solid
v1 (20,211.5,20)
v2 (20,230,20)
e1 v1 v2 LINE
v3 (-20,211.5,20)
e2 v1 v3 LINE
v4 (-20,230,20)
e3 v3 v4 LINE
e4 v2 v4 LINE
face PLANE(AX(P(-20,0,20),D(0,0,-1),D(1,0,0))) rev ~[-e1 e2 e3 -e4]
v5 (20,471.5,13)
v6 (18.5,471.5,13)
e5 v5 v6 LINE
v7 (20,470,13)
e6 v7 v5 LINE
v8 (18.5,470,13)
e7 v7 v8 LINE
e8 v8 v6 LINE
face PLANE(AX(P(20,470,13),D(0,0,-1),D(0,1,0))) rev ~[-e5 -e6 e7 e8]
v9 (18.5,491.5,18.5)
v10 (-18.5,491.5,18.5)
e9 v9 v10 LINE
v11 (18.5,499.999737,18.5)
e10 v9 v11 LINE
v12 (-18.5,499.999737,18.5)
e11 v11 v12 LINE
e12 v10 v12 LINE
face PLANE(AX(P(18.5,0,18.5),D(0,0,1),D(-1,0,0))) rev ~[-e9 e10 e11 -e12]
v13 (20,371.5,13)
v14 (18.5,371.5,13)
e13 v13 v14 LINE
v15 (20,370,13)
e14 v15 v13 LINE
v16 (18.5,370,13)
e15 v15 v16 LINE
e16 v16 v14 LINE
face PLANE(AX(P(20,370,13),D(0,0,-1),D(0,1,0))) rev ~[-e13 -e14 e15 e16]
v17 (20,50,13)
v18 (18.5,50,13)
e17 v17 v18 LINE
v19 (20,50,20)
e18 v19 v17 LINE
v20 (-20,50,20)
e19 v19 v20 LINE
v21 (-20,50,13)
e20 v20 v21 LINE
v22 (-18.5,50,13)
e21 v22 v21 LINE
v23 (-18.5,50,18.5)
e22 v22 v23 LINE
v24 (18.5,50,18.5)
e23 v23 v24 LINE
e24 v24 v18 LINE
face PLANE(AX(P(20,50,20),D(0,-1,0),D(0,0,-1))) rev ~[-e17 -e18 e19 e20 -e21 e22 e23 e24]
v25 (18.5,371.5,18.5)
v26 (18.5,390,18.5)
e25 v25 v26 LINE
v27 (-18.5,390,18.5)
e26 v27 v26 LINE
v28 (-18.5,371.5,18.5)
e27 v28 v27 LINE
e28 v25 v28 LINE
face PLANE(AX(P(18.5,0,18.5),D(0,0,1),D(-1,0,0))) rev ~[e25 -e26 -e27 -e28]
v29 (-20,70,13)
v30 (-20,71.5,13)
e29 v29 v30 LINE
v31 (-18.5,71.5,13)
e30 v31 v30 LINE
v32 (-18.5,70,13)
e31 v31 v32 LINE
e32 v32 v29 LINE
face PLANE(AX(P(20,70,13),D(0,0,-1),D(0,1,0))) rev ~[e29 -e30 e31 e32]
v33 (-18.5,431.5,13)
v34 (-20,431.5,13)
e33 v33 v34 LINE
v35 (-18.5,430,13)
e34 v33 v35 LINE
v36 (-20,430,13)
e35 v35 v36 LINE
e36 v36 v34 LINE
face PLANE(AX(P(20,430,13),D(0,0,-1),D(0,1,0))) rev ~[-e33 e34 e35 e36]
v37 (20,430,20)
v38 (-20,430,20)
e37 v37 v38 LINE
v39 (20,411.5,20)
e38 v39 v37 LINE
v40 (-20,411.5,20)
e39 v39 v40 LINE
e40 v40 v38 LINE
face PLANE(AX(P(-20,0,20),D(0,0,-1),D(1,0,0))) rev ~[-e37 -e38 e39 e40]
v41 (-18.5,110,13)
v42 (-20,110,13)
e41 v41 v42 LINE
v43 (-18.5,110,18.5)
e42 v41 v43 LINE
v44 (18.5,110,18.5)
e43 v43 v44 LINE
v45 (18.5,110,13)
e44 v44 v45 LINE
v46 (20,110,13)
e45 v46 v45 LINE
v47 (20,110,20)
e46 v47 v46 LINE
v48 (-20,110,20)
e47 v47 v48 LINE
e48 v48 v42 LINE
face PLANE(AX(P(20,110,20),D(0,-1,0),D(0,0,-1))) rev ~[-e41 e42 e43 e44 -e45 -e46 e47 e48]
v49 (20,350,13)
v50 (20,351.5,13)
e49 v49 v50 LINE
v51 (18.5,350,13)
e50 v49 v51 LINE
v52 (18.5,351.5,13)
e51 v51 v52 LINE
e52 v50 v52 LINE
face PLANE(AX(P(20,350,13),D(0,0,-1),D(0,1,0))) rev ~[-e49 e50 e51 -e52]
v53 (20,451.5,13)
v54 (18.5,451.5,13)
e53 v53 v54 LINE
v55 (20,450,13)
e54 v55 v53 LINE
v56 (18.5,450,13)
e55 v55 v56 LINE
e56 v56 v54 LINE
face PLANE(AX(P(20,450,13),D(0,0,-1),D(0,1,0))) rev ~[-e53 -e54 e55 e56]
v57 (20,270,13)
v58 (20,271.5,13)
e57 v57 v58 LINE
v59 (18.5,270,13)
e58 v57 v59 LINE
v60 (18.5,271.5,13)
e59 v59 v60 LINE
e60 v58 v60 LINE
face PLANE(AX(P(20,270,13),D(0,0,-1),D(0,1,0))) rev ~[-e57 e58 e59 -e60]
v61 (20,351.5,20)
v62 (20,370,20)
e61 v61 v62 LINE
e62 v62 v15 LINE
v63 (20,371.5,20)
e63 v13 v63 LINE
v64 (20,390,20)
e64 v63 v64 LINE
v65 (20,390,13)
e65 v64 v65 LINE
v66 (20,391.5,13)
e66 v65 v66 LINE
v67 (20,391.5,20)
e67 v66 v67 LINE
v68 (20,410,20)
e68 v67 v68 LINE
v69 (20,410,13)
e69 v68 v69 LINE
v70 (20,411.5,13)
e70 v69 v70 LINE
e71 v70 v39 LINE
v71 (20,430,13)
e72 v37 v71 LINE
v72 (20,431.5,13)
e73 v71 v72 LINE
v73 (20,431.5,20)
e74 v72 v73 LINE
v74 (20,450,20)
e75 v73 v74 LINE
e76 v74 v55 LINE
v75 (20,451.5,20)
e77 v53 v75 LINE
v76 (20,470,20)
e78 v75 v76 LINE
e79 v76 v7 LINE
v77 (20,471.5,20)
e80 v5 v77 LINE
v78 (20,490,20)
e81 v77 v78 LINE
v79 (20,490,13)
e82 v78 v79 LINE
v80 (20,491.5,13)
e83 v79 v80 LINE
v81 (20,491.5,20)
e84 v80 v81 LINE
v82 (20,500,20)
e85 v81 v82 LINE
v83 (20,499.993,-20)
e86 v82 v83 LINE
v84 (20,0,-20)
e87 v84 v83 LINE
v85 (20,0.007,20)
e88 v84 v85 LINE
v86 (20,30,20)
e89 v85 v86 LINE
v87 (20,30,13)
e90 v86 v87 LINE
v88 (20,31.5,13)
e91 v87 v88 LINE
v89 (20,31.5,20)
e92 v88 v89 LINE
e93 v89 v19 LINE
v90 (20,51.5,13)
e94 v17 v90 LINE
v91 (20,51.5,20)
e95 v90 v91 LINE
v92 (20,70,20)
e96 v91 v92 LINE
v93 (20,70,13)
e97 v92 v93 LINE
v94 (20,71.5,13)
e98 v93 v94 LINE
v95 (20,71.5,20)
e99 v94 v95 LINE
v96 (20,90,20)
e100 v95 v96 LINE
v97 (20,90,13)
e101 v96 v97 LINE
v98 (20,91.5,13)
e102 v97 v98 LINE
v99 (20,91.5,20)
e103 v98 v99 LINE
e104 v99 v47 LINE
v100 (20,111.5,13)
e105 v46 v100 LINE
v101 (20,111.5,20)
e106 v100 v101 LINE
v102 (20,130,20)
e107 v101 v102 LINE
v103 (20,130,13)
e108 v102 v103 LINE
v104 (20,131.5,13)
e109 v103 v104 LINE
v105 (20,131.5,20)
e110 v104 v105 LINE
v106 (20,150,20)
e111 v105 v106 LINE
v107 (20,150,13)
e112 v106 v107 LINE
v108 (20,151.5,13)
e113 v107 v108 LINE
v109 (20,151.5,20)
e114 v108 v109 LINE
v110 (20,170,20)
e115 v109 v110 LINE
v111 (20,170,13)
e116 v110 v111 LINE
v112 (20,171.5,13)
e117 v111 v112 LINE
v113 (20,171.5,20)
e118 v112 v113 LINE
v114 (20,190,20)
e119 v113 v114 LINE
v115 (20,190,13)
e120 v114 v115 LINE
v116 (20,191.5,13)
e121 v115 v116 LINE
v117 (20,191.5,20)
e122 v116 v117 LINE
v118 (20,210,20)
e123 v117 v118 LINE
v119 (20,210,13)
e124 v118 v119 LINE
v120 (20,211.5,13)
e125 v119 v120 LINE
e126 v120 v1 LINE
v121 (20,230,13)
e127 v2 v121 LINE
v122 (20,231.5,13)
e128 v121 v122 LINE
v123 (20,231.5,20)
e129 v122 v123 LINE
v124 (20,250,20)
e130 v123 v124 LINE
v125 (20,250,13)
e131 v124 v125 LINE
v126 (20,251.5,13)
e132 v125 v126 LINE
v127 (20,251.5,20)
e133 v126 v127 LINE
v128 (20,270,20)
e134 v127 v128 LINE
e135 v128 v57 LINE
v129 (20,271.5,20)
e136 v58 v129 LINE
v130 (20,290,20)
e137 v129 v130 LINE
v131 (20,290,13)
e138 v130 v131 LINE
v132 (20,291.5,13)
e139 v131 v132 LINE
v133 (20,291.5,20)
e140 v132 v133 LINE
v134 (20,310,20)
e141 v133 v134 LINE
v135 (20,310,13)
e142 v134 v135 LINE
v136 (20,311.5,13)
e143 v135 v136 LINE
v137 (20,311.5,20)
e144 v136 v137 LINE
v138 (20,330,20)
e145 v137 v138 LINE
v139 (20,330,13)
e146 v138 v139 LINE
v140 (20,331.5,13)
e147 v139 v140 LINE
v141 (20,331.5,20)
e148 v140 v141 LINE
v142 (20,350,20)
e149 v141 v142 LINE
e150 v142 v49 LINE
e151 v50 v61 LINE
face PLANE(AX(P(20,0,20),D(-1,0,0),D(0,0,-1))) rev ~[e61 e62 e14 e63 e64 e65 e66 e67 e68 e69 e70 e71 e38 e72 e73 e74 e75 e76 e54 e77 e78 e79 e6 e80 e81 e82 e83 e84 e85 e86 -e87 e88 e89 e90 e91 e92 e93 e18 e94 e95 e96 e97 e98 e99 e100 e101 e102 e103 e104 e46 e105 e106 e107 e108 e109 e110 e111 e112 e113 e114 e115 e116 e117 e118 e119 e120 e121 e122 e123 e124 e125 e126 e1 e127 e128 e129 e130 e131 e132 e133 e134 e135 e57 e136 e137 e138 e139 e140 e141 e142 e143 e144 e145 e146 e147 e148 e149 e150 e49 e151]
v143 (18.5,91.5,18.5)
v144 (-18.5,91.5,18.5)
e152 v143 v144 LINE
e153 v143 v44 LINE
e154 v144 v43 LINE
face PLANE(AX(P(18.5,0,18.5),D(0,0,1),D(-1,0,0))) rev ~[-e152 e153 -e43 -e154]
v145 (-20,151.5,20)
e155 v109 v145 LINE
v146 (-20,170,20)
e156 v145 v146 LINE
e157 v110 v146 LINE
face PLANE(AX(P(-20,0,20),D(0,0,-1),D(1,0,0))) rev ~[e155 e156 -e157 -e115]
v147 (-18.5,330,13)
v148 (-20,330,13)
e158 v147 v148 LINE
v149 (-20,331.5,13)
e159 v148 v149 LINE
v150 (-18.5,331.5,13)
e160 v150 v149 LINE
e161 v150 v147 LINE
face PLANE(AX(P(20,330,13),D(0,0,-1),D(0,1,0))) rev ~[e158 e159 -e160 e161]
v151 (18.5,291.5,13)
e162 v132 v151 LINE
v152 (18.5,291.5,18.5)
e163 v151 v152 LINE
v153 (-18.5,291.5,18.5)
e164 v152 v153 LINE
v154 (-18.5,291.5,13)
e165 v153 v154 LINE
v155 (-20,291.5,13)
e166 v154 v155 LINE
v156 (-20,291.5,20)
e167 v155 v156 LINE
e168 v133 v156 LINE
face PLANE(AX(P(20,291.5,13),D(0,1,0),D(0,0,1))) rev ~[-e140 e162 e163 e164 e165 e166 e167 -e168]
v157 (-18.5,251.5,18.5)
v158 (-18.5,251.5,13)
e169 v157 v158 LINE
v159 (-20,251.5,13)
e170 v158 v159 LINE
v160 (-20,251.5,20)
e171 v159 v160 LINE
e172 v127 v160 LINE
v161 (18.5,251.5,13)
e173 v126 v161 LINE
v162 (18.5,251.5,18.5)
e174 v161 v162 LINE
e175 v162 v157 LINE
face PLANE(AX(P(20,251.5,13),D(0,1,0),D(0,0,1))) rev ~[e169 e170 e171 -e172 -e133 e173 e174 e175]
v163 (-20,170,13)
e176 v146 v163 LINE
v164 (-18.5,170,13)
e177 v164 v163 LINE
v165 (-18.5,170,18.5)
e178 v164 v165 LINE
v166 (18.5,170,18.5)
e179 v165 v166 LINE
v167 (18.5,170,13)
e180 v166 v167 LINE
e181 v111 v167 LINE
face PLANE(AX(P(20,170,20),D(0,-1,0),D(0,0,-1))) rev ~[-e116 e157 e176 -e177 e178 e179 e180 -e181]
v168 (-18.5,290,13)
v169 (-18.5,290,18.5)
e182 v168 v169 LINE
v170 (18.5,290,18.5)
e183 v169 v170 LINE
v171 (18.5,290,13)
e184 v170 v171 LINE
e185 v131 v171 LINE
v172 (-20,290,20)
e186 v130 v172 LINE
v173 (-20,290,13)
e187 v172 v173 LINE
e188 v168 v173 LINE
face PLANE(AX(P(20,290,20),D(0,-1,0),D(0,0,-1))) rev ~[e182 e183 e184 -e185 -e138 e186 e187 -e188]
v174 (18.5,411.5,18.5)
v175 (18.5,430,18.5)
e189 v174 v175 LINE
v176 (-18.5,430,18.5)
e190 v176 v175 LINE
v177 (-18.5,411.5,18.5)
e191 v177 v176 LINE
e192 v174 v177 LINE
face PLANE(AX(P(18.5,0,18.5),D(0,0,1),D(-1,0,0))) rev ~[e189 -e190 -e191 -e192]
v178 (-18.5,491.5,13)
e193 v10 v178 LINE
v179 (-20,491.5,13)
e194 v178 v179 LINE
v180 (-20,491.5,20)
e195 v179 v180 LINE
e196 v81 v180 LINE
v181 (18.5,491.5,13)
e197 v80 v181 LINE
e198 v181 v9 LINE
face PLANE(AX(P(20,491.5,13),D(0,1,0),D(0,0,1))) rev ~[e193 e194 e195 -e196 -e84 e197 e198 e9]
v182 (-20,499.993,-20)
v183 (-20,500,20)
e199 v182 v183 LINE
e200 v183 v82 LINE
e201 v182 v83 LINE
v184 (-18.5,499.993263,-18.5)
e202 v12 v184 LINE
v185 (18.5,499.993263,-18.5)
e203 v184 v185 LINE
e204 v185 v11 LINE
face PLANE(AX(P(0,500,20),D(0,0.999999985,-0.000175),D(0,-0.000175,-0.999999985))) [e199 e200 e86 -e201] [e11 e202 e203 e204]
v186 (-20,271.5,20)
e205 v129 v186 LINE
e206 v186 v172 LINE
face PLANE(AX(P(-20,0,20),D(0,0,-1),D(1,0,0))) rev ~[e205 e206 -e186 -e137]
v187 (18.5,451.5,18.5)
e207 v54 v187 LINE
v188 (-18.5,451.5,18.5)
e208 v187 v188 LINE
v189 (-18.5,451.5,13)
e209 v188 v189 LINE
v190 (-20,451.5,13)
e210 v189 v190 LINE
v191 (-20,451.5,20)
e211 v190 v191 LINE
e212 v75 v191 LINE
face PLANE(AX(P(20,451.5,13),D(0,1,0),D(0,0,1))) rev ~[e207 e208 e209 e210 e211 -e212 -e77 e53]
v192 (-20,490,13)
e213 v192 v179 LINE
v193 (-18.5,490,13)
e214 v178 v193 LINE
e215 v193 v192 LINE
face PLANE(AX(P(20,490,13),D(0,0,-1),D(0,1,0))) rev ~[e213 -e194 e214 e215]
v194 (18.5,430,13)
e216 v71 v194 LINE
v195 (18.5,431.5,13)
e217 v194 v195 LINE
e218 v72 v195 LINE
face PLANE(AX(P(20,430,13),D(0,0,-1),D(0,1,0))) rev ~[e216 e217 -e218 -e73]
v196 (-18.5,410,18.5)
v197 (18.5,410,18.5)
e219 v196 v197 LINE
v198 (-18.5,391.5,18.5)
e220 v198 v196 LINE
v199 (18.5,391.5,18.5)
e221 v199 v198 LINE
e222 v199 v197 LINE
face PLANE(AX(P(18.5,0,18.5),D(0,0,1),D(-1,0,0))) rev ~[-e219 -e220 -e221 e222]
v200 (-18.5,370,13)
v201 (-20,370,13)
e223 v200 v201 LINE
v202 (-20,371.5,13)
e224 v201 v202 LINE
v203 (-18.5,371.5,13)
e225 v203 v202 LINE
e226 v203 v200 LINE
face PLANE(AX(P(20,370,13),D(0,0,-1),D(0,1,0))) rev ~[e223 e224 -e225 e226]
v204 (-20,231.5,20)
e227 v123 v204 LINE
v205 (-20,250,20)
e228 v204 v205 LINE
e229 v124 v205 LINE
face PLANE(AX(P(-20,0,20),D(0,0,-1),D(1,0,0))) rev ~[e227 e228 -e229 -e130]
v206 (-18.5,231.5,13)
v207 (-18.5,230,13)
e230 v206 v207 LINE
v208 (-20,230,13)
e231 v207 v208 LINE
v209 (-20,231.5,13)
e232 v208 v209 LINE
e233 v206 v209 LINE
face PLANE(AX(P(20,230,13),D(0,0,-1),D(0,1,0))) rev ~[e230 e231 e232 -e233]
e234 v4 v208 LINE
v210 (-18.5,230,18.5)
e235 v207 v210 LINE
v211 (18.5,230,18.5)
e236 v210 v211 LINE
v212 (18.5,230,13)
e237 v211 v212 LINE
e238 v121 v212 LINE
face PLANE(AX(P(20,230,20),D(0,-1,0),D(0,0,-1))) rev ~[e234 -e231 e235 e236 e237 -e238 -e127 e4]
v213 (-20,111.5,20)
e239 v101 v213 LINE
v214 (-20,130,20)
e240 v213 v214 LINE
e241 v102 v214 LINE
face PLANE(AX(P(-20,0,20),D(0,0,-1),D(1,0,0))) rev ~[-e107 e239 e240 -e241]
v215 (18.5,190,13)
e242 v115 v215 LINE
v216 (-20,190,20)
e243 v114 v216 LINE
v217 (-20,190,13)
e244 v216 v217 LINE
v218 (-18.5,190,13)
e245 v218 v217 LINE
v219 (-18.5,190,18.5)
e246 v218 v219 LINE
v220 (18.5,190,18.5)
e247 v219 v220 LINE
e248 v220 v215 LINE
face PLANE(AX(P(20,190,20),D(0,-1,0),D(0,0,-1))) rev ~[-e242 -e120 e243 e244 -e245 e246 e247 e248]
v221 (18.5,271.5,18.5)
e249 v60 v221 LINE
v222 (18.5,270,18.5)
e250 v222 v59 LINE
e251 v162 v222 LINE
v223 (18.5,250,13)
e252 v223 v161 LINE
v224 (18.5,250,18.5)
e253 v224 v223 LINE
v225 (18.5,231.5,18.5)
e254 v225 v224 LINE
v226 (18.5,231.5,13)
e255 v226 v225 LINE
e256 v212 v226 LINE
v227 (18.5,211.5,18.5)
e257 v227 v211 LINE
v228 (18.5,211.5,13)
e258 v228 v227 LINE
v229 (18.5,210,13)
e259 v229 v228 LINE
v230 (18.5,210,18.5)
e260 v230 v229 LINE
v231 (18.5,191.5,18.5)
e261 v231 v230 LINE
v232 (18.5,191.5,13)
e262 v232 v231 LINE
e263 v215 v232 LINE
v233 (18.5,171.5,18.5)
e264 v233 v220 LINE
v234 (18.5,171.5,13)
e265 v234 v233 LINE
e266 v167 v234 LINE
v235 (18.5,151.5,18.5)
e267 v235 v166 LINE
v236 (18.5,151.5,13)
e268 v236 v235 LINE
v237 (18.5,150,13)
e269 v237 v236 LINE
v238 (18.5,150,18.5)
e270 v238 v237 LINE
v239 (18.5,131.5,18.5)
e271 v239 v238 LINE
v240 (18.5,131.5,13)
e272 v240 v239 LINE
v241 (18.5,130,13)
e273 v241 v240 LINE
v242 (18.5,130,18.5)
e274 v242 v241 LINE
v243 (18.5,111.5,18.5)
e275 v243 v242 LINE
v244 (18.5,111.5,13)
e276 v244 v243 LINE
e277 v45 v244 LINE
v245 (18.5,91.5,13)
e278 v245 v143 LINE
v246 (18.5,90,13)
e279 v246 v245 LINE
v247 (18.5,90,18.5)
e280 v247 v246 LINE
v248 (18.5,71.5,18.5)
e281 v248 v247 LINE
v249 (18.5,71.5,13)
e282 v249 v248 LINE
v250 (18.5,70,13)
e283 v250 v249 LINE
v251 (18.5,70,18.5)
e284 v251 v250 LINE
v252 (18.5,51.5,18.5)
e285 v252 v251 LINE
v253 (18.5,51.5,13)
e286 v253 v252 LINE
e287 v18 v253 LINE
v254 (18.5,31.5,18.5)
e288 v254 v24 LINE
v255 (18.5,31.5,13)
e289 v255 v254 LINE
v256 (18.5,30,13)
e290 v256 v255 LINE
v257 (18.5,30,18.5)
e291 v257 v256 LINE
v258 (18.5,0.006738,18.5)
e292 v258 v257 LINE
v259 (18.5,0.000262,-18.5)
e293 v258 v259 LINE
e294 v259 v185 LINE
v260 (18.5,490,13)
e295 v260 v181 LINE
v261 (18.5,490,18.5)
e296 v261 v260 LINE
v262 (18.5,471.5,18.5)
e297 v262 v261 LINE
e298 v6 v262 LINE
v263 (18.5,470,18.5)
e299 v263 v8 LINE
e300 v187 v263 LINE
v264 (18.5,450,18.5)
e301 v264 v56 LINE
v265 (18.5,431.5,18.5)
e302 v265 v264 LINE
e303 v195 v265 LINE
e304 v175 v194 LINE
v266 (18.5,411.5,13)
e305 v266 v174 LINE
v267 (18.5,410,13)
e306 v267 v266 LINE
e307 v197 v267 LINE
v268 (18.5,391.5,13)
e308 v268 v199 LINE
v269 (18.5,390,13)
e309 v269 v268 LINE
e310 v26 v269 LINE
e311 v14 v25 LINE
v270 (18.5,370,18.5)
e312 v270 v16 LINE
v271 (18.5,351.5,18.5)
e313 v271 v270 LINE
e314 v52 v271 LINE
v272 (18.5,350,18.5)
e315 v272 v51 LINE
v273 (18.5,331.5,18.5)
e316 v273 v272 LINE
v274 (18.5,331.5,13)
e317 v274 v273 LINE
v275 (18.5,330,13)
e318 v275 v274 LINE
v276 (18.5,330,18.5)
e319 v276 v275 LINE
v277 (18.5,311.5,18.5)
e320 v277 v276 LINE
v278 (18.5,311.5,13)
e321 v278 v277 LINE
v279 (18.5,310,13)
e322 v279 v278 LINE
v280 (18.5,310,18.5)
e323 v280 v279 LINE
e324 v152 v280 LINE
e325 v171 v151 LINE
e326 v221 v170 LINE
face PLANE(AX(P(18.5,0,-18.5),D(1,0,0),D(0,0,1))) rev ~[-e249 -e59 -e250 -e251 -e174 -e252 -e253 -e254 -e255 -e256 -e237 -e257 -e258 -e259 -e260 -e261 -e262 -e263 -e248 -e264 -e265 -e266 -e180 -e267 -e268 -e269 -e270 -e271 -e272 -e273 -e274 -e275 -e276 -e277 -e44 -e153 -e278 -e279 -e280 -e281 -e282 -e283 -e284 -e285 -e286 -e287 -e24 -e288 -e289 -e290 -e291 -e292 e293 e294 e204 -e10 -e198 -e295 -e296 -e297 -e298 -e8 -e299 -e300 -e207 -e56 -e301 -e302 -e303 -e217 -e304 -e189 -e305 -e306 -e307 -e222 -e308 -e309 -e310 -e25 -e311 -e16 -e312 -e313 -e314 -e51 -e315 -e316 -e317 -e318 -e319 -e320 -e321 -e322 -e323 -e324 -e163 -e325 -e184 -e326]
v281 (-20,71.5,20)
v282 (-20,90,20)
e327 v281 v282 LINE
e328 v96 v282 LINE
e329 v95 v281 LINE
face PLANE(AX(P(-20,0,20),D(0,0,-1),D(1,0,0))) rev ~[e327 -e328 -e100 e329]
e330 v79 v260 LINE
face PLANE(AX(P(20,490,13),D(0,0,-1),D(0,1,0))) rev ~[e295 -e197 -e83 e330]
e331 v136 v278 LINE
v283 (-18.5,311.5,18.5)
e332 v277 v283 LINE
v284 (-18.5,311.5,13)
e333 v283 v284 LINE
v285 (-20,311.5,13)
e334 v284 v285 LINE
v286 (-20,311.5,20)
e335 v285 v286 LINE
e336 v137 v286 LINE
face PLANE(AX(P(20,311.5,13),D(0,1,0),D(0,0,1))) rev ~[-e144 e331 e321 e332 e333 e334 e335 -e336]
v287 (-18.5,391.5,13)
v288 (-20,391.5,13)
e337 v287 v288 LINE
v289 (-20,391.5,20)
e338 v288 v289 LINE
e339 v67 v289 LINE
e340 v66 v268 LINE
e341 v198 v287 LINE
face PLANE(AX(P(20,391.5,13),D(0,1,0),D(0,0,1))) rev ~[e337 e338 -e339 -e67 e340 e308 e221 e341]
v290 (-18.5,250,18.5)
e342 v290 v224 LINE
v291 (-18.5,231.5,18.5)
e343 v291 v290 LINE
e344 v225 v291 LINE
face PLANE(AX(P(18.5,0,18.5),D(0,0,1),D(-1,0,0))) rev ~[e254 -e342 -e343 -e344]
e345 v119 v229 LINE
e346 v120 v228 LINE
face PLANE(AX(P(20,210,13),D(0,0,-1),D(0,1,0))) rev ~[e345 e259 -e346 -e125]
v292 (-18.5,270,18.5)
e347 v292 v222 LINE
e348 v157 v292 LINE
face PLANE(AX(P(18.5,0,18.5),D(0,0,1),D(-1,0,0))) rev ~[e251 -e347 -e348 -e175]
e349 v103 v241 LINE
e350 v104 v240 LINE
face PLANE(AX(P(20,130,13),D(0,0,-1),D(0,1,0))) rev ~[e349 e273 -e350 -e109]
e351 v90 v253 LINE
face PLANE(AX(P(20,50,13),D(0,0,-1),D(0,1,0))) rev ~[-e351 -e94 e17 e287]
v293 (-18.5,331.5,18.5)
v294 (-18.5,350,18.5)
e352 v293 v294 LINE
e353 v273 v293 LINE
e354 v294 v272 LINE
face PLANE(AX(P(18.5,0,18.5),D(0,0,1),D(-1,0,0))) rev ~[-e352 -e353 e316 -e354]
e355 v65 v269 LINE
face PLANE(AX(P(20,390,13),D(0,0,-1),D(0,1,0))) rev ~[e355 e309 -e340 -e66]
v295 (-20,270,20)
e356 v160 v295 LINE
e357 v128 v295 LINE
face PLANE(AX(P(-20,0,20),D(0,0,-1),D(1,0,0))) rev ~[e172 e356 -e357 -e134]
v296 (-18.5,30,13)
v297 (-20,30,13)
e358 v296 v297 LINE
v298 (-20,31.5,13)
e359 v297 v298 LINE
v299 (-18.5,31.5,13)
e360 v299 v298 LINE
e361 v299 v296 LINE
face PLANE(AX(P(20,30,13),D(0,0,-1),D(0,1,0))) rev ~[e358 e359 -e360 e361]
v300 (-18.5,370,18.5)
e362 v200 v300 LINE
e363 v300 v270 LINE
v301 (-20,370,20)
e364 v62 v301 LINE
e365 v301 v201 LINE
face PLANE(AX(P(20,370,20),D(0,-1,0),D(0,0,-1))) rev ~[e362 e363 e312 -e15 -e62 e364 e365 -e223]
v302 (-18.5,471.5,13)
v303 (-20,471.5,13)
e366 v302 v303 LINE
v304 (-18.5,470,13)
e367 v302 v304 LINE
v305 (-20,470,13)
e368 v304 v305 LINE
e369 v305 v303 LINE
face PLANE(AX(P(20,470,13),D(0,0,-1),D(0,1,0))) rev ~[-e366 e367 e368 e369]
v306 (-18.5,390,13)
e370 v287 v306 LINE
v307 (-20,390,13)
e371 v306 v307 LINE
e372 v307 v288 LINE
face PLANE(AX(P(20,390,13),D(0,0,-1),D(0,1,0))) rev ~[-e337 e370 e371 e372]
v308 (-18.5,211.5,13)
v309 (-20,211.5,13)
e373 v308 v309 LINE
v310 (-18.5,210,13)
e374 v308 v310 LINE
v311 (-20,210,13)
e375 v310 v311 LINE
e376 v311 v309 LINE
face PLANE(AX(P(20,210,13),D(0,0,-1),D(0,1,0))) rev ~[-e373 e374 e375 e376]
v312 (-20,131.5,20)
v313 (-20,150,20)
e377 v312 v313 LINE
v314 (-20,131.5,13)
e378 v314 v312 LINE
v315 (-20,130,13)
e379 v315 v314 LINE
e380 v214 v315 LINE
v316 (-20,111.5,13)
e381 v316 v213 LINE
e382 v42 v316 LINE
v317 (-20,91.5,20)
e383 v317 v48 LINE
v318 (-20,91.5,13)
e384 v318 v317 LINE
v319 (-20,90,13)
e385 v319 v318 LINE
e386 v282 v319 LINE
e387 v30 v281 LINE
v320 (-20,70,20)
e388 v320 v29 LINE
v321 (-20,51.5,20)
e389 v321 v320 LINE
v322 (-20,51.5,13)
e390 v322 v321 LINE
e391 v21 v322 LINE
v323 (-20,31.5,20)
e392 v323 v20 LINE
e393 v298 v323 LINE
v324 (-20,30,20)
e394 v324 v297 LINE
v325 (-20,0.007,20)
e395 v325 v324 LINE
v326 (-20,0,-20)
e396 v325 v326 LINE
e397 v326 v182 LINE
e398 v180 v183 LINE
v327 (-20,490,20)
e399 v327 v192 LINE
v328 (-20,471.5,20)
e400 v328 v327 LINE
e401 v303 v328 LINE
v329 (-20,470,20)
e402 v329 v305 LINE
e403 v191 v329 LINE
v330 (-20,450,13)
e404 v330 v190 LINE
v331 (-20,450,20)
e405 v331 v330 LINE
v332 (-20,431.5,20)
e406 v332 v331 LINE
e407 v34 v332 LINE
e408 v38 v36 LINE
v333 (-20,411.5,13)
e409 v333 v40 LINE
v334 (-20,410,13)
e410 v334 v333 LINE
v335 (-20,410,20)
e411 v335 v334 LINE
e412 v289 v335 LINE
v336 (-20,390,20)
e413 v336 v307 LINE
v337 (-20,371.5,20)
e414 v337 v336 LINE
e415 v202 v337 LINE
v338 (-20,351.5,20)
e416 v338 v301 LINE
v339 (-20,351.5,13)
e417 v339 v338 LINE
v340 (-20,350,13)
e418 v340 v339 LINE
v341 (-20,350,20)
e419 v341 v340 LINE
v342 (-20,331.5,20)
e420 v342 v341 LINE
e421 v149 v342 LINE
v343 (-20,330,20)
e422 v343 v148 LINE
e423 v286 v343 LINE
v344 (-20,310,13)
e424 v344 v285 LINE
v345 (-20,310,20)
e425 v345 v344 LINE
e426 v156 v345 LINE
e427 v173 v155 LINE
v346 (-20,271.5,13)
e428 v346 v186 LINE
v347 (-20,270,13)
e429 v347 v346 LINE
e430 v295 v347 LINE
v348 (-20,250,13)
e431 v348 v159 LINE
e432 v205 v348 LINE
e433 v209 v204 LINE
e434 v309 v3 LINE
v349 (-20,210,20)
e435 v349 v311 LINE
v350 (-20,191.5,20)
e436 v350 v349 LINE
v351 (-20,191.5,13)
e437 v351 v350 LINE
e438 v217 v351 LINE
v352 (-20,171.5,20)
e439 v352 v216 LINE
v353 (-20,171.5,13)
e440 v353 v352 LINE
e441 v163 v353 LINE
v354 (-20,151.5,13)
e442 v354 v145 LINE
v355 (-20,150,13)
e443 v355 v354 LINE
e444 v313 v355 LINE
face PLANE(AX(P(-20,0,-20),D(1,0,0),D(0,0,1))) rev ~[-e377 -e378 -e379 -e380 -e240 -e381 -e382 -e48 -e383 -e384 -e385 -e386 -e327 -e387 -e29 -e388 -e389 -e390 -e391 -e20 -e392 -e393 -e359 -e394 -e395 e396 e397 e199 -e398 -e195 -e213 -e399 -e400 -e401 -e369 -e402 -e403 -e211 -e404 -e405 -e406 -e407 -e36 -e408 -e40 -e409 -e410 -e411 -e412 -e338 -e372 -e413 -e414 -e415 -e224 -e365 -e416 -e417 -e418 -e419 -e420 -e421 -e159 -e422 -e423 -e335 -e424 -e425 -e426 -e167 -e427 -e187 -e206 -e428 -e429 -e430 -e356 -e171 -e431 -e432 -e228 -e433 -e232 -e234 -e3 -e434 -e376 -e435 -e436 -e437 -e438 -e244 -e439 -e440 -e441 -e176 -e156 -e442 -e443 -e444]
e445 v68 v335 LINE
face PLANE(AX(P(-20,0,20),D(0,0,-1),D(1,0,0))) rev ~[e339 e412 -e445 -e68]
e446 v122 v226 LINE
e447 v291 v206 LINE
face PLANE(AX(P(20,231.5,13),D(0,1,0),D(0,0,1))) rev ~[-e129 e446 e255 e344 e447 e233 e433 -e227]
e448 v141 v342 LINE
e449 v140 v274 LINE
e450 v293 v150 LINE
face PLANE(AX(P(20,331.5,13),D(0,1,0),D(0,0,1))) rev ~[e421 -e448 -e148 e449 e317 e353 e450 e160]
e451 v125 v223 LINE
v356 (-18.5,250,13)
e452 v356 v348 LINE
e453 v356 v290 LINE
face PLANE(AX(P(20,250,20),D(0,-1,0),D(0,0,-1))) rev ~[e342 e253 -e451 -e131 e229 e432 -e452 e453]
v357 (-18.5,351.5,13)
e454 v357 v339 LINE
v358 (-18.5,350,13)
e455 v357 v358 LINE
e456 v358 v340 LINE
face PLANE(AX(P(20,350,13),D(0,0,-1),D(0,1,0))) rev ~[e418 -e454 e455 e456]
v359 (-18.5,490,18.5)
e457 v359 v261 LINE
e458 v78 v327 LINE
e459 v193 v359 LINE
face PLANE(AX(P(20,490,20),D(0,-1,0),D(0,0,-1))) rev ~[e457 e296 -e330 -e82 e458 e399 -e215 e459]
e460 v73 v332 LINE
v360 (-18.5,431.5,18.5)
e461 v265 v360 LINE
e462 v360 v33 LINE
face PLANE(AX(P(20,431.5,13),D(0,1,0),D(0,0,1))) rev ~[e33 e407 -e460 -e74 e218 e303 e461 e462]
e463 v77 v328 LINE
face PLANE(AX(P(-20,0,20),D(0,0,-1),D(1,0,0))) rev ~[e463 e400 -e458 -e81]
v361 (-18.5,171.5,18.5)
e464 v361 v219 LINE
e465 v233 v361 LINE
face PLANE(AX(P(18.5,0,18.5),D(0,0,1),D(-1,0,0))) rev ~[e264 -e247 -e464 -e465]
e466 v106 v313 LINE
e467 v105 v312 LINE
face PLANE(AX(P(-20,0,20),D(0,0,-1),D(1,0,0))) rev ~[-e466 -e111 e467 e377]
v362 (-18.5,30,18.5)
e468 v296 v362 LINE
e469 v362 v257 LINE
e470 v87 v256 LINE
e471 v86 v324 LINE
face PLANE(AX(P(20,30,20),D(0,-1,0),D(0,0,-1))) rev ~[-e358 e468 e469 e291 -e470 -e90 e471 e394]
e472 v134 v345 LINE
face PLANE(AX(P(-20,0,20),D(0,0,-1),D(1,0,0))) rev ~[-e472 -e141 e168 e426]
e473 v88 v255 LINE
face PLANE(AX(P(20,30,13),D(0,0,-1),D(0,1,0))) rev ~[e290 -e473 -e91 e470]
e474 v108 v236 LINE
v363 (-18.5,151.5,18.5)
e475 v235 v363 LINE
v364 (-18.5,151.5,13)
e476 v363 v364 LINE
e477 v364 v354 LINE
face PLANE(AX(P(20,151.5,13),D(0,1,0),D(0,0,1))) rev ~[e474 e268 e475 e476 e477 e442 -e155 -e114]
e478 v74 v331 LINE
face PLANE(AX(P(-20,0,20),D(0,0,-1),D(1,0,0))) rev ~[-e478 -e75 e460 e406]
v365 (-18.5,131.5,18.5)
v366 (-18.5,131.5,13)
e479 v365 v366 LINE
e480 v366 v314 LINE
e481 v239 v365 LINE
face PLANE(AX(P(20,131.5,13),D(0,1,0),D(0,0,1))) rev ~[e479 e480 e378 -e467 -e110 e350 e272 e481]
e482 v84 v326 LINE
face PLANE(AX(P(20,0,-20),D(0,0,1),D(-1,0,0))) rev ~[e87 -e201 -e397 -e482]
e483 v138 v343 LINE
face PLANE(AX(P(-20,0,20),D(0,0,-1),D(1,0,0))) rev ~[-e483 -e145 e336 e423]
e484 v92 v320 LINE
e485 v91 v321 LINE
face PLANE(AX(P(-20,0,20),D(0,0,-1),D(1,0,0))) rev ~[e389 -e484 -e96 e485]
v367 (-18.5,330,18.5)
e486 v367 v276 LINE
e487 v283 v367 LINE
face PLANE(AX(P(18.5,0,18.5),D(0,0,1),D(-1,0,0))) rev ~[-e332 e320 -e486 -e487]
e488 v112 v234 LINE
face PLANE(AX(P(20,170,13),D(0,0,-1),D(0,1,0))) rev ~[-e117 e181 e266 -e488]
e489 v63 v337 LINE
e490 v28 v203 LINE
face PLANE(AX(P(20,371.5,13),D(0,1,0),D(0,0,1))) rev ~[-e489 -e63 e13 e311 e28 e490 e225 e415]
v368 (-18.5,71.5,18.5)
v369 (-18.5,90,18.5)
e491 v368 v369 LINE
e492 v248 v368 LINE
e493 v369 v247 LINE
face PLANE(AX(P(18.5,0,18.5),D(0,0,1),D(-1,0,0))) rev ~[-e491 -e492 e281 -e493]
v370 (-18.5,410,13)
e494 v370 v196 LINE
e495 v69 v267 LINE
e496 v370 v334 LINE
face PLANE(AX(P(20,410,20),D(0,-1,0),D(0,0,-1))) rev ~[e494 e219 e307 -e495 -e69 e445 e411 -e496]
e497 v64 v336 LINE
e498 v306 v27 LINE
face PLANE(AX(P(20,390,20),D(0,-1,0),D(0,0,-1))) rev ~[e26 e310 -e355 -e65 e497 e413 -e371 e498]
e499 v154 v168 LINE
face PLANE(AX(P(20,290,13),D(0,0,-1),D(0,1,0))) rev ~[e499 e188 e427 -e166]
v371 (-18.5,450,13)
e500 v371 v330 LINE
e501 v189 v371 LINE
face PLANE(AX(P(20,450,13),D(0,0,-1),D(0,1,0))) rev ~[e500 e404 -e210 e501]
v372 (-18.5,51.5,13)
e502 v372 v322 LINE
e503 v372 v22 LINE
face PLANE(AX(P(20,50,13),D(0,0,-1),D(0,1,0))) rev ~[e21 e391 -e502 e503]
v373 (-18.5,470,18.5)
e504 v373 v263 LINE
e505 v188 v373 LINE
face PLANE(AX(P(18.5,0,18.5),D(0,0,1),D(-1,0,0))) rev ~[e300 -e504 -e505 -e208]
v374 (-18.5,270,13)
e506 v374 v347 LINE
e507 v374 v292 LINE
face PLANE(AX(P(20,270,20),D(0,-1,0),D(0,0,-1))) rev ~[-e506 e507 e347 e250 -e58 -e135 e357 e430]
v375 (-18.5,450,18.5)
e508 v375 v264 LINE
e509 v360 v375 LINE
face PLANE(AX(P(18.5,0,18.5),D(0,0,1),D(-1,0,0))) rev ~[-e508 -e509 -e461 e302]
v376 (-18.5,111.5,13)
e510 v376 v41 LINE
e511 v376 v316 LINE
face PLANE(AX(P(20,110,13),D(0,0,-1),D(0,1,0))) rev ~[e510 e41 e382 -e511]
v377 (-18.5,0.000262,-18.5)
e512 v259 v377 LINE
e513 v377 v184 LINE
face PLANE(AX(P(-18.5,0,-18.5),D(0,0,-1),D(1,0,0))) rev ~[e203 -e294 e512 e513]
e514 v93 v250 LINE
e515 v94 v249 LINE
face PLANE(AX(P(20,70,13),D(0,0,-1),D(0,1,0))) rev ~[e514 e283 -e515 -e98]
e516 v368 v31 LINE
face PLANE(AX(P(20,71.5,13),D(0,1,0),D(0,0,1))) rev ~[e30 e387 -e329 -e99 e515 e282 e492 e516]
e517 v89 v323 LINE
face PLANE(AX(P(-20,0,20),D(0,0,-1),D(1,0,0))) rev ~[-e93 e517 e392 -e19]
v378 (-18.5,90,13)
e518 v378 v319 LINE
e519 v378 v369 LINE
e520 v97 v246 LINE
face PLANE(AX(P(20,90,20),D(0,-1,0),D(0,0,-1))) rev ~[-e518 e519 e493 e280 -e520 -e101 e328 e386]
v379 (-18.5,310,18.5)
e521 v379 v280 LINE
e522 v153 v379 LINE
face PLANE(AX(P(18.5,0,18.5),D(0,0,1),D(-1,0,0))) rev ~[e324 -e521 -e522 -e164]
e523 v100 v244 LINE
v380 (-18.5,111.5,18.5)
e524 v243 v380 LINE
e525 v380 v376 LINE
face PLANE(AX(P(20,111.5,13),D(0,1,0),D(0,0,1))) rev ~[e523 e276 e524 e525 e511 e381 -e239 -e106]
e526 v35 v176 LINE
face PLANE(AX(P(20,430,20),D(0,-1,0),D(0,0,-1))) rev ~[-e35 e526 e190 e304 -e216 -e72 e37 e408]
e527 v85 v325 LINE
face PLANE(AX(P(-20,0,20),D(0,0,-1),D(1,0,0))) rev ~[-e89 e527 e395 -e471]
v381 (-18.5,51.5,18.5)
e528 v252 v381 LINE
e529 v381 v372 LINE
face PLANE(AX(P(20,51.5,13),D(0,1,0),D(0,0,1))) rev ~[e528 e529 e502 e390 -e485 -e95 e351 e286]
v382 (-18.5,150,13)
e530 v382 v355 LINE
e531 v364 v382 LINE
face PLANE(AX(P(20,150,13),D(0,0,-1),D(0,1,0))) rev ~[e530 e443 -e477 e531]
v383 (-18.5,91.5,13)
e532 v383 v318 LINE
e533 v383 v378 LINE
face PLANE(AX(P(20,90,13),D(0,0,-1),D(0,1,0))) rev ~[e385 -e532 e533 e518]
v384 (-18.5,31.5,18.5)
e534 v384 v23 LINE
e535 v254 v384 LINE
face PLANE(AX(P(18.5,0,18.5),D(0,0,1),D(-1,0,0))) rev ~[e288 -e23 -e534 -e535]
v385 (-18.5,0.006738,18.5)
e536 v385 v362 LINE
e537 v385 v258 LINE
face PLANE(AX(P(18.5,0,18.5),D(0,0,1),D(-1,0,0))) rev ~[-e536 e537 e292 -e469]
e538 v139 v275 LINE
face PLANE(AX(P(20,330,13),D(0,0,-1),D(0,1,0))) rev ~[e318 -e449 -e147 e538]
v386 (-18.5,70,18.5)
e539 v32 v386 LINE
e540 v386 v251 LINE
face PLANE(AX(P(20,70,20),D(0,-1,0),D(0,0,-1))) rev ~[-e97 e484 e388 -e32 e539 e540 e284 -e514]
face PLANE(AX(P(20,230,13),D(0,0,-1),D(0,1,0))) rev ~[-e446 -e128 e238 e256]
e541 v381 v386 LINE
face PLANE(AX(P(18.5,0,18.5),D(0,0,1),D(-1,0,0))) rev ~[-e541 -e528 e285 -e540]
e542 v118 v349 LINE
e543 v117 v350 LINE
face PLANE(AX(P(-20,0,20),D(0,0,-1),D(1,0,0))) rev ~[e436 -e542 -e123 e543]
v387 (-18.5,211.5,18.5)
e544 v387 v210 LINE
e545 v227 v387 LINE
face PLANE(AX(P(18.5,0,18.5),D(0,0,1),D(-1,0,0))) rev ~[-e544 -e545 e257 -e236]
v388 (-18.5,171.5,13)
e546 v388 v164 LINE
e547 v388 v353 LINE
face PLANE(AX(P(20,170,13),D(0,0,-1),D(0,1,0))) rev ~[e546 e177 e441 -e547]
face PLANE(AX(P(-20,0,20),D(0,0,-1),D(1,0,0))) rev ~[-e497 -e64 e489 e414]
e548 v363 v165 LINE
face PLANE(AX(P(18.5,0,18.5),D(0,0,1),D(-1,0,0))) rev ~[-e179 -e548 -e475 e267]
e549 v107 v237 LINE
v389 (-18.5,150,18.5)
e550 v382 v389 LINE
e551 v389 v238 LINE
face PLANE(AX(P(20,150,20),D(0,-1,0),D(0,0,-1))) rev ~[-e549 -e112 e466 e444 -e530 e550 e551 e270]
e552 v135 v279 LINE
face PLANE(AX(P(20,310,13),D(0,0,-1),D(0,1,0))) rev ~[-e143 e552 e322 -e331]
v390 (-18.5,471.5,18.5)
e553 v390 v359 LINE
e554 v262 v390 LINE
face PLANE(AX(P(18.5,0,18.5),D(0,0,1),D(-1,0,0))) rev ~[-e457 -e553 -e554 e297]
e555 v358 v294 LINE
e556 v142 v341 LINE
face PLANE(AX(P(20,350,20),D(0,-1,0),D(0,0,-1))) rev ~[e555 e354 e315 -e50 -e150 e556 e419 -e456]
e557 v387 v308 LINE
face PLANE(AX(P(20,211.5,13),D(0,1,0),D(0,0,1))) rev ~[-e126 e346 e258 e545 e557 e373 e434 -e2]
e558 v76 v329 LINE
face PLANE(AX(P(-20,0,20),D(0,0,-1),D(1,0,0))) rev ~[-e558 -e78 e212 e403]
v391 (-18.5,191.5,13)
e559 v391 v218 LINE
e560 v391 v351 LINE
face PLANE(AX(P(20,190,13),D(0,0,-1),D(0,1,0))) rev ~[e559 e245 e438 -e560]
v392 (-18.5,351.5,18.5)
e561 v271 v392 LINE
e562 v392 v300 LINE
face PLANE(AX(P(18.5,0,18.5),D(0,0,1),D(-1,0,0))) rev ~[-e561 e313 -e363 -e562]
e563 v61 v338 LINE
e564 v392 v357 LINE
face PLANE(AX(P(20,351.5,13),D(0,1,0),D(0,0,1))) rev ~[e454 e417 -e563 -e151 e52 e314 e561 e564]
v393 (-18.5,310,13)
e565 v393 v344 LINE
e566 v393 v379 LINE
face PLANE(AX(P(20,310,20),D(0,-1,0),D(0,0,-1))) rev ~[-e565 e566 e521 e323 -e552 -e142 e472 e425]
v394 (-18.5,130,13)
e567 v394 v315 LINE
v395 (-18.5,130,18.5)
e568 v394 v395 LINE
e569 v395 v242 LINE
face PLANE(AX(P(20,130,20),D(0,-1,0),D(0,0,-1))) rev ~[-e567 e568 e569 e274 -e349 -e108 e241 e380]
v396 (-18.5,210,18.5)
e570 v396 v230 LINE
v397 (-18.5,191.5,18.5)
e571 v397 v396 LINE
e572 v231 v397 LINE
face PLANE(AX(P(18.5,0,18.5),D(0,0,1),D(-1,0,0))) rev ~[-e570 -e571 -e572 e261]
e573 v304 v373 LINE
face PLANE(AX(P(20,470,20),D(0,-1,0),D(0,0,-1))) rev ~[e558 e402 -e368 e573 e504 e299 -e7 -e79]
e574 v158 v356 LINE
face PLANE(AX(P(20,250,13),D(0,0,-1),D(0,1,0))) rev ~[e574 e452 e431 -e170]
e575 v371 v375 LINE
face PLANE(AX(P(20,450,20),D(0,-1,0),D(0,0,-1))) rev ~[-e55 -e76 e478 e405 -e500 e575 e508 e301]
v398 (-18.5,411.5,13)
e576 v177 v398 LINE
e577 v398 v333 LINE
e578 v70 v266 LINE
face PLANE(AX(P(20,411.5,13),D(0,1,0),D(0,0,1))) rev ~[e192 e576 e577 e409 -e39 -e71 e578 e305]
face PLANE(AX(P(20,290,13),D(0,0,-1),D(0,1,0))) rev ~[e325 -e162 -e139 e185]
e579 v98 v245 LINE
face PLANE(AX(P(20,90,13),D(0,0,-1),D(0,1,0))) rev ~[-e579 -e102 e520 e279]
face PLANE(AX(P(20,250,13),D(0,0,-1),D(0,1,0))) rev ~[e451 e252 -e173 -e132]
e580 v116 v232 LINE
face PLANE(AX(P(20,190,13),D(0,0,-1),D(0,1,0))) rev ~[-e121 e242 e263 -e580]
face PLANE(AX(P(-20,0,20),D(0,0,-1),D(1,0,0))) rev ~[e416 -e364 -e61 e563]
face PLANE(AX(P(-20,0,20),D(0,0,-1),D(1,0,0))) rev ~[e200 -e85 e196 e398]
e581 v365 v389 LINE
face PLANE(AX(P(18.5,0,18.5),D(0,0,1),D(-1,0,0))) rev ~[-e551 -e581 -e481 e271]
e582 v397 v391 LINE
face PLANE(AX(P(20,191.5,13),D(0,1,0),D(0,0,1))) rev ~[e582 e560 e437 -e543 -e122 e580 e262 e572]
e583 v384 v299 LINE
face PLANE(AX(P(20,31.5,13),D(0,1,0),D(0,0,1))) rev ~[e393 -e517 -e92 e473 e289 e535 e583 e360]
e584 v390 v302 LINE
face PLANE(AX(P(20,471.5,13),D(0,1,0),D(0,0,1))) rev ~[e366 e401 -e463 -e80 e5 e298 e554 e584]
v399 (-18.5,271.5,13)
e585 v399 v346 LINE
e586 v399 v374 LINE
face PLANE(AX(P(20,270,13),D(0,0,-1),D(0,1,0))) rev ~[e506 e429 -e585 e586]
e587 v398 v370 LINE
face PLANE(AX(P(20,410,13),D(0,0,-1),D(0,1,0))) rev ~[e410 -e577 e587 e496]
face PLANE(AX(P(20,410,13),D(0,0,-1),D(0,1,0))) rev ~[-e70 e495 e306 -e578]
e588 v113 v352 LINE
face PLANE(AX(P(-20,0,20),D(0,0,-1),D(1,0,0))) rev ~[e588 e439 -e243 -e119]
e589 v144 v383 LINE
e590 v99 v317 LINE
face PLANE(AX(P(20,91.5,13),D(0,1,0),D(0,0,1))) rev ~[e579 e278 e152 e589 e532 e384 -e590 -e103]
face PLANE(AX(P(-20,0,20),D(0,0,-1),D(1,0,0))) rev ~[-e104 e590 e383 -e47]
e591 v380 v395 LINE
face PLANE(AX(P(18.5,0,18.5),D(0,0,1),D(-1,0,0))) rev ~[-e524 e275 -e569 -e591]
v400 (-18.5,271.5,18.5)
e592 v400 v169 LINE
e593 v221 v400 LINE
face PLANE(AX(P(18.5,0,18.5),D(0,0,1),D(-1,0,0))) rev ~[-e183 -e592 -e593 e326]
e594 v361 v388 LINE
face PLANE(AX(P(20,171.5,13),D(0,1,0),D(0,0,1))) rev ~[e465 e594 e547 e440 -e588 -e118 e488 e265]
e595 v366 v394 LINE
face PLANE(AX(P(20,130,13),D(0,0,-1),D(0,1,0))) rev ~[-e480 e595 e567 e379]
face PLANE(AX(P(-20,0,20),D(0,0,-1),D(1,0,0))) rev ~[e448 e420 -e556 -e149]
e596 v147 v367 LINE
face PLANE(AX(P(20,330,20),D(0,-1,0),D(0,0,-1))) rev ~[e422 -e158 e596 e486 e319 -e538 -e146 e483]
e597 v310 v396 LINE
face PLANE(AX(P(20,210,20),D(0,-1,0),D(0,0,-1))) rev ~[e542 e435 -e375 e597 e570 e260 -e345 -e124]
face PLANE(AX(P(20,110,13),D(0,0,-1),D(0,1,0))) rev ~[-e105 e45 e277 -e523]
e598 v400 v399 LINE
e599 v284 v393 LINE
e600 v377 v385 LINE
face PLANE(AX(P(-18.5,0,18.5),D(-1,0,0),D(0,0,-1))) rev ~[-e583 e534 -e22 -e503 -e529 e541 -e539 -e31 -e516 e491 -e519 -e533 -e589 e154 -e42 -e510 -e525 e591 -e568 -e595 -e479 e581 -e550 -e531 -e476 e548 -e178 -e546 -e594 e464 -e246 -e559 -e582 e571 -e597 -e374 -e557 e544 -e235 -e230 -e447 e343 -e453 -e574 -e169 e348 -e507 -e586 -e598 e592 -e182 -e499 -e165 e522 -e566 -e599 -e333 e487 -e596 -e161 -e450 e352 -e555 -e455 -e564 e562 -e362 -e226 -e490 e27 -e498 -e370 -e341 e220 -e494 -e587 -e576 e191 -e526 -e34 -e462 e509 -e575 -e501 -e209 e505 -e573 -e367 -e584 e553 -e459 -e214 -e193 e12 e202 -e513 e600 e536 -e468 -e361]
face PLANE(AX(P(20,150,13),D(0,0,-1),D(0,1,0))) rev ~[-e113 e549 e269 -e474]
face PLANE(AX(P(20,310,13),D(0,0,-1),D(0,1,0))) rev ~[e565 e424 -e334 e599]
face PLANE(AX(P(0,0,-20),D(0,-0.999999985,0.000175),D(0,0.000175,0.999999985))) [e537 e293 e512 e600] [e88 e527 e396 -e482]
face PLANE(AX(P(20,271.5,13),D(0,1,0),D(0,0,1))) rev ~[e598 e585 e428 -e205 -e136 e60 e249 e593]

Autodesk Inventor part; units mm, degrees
ref_plane "YZ Plane" through (0, 0, 0) normal (1, 0, 0) x (0, 1, 0)
ref_plane "XZ Plane" through (0, 0, 0) normal (0, 1, 0) x (-1, 0, 0)
ref_plane "XY Plane" through (0, 0, 0) normal (0, 0, 1) x (1, 0, 0)
sketch "Sketch1" plane through (0, 0, 0) normal (0, 1, 0) x (-1, 0, 0)
  line L0 (20, 20) -> (-20, 20)
  line L1 (-20, 20) -> (-20, -20)
  line L2 (-20, -20) -> (20, -20)
  line L3 (20, -20) -> (20, 20)
  line L4 (20, 20) -> (-20, -20) construction
  line L5 (-20, 20) -> (20, -20) construction
  line L6 (-18.5, 18.5) -> (18.5, 18.5)
  line L7 (18.5, 18.5) -> (18.5, -18.5)
  line L8 (18.5, -18.5) -> (-18.5, -18.5)
  line L9 (-18.5, -18.5) -> (-18.5, 18.5)
  point P0 (0, 0)
  dimension "d7" = 40
  dimension "d8" = 40
  dimension "d9" = 1.5
extrude "Extrusion1" add sketch "Sketch1" along normal blind 500
sketch "Sketch2" plane through (20, 0, 20) normal (1, 0, 0) x (0, 0, -1)
  line L0 (0, 0) -> (0, 500) projected
  line L1 (0, 30) -> (7, 30)
  line L2 (7, 30) -> (7, 31.5)
  line L3 (7, 31.5) -> (0, 31.5)
  line L4 (0, 31.5) -> (0, 30)
  point P0 (20, 0)
  point P1 (0, 31.5)
  dimension "d10" = 7
  dimension "d11" = 1.5
  dimension "d17" = 30
extrude "Extrusion2" cut sketch "Sketch2" against normal through all
pattern_linear "Rectangular Pattern1" count 49 spacing 20 along (0, 1, 0) of "Extrusion2"
sketch "Sketch5" plane through (0, 0, 0) normal (1, 0, 0) x (0, 1, 0)
  line L0 (0, 20) -> (0, -20) projected
  line L1 (0, 20) -> (30, 20) projected
  line L2 (0, -20) -> (0.007, 20)
  line L3 (500, -20) -> (500, 20) projected
  line L4 (500, 20) -> (499.993, -20)
  line L5 (0, -20) -> (500, -20) projected
  point P0 (0, 0)
  dimension "d18" = 0.01
  dimension "d21" = 0.01
extrude "Extrusion3" cut sketch "Sketch5" along normal through all both and the other way through all
equation "\"d1\" = BEAM_5_lenth"
equation "\"d18\" = BEAM_5_angle"
equation "\"d21\" = d18"
equation "\"BEAM_5_lenth\" = 500"
equation "\"BEAM_5_angle\" = 0.01deg"
properties part number "DSB-504 beam 45" material "Stainless Steel"
